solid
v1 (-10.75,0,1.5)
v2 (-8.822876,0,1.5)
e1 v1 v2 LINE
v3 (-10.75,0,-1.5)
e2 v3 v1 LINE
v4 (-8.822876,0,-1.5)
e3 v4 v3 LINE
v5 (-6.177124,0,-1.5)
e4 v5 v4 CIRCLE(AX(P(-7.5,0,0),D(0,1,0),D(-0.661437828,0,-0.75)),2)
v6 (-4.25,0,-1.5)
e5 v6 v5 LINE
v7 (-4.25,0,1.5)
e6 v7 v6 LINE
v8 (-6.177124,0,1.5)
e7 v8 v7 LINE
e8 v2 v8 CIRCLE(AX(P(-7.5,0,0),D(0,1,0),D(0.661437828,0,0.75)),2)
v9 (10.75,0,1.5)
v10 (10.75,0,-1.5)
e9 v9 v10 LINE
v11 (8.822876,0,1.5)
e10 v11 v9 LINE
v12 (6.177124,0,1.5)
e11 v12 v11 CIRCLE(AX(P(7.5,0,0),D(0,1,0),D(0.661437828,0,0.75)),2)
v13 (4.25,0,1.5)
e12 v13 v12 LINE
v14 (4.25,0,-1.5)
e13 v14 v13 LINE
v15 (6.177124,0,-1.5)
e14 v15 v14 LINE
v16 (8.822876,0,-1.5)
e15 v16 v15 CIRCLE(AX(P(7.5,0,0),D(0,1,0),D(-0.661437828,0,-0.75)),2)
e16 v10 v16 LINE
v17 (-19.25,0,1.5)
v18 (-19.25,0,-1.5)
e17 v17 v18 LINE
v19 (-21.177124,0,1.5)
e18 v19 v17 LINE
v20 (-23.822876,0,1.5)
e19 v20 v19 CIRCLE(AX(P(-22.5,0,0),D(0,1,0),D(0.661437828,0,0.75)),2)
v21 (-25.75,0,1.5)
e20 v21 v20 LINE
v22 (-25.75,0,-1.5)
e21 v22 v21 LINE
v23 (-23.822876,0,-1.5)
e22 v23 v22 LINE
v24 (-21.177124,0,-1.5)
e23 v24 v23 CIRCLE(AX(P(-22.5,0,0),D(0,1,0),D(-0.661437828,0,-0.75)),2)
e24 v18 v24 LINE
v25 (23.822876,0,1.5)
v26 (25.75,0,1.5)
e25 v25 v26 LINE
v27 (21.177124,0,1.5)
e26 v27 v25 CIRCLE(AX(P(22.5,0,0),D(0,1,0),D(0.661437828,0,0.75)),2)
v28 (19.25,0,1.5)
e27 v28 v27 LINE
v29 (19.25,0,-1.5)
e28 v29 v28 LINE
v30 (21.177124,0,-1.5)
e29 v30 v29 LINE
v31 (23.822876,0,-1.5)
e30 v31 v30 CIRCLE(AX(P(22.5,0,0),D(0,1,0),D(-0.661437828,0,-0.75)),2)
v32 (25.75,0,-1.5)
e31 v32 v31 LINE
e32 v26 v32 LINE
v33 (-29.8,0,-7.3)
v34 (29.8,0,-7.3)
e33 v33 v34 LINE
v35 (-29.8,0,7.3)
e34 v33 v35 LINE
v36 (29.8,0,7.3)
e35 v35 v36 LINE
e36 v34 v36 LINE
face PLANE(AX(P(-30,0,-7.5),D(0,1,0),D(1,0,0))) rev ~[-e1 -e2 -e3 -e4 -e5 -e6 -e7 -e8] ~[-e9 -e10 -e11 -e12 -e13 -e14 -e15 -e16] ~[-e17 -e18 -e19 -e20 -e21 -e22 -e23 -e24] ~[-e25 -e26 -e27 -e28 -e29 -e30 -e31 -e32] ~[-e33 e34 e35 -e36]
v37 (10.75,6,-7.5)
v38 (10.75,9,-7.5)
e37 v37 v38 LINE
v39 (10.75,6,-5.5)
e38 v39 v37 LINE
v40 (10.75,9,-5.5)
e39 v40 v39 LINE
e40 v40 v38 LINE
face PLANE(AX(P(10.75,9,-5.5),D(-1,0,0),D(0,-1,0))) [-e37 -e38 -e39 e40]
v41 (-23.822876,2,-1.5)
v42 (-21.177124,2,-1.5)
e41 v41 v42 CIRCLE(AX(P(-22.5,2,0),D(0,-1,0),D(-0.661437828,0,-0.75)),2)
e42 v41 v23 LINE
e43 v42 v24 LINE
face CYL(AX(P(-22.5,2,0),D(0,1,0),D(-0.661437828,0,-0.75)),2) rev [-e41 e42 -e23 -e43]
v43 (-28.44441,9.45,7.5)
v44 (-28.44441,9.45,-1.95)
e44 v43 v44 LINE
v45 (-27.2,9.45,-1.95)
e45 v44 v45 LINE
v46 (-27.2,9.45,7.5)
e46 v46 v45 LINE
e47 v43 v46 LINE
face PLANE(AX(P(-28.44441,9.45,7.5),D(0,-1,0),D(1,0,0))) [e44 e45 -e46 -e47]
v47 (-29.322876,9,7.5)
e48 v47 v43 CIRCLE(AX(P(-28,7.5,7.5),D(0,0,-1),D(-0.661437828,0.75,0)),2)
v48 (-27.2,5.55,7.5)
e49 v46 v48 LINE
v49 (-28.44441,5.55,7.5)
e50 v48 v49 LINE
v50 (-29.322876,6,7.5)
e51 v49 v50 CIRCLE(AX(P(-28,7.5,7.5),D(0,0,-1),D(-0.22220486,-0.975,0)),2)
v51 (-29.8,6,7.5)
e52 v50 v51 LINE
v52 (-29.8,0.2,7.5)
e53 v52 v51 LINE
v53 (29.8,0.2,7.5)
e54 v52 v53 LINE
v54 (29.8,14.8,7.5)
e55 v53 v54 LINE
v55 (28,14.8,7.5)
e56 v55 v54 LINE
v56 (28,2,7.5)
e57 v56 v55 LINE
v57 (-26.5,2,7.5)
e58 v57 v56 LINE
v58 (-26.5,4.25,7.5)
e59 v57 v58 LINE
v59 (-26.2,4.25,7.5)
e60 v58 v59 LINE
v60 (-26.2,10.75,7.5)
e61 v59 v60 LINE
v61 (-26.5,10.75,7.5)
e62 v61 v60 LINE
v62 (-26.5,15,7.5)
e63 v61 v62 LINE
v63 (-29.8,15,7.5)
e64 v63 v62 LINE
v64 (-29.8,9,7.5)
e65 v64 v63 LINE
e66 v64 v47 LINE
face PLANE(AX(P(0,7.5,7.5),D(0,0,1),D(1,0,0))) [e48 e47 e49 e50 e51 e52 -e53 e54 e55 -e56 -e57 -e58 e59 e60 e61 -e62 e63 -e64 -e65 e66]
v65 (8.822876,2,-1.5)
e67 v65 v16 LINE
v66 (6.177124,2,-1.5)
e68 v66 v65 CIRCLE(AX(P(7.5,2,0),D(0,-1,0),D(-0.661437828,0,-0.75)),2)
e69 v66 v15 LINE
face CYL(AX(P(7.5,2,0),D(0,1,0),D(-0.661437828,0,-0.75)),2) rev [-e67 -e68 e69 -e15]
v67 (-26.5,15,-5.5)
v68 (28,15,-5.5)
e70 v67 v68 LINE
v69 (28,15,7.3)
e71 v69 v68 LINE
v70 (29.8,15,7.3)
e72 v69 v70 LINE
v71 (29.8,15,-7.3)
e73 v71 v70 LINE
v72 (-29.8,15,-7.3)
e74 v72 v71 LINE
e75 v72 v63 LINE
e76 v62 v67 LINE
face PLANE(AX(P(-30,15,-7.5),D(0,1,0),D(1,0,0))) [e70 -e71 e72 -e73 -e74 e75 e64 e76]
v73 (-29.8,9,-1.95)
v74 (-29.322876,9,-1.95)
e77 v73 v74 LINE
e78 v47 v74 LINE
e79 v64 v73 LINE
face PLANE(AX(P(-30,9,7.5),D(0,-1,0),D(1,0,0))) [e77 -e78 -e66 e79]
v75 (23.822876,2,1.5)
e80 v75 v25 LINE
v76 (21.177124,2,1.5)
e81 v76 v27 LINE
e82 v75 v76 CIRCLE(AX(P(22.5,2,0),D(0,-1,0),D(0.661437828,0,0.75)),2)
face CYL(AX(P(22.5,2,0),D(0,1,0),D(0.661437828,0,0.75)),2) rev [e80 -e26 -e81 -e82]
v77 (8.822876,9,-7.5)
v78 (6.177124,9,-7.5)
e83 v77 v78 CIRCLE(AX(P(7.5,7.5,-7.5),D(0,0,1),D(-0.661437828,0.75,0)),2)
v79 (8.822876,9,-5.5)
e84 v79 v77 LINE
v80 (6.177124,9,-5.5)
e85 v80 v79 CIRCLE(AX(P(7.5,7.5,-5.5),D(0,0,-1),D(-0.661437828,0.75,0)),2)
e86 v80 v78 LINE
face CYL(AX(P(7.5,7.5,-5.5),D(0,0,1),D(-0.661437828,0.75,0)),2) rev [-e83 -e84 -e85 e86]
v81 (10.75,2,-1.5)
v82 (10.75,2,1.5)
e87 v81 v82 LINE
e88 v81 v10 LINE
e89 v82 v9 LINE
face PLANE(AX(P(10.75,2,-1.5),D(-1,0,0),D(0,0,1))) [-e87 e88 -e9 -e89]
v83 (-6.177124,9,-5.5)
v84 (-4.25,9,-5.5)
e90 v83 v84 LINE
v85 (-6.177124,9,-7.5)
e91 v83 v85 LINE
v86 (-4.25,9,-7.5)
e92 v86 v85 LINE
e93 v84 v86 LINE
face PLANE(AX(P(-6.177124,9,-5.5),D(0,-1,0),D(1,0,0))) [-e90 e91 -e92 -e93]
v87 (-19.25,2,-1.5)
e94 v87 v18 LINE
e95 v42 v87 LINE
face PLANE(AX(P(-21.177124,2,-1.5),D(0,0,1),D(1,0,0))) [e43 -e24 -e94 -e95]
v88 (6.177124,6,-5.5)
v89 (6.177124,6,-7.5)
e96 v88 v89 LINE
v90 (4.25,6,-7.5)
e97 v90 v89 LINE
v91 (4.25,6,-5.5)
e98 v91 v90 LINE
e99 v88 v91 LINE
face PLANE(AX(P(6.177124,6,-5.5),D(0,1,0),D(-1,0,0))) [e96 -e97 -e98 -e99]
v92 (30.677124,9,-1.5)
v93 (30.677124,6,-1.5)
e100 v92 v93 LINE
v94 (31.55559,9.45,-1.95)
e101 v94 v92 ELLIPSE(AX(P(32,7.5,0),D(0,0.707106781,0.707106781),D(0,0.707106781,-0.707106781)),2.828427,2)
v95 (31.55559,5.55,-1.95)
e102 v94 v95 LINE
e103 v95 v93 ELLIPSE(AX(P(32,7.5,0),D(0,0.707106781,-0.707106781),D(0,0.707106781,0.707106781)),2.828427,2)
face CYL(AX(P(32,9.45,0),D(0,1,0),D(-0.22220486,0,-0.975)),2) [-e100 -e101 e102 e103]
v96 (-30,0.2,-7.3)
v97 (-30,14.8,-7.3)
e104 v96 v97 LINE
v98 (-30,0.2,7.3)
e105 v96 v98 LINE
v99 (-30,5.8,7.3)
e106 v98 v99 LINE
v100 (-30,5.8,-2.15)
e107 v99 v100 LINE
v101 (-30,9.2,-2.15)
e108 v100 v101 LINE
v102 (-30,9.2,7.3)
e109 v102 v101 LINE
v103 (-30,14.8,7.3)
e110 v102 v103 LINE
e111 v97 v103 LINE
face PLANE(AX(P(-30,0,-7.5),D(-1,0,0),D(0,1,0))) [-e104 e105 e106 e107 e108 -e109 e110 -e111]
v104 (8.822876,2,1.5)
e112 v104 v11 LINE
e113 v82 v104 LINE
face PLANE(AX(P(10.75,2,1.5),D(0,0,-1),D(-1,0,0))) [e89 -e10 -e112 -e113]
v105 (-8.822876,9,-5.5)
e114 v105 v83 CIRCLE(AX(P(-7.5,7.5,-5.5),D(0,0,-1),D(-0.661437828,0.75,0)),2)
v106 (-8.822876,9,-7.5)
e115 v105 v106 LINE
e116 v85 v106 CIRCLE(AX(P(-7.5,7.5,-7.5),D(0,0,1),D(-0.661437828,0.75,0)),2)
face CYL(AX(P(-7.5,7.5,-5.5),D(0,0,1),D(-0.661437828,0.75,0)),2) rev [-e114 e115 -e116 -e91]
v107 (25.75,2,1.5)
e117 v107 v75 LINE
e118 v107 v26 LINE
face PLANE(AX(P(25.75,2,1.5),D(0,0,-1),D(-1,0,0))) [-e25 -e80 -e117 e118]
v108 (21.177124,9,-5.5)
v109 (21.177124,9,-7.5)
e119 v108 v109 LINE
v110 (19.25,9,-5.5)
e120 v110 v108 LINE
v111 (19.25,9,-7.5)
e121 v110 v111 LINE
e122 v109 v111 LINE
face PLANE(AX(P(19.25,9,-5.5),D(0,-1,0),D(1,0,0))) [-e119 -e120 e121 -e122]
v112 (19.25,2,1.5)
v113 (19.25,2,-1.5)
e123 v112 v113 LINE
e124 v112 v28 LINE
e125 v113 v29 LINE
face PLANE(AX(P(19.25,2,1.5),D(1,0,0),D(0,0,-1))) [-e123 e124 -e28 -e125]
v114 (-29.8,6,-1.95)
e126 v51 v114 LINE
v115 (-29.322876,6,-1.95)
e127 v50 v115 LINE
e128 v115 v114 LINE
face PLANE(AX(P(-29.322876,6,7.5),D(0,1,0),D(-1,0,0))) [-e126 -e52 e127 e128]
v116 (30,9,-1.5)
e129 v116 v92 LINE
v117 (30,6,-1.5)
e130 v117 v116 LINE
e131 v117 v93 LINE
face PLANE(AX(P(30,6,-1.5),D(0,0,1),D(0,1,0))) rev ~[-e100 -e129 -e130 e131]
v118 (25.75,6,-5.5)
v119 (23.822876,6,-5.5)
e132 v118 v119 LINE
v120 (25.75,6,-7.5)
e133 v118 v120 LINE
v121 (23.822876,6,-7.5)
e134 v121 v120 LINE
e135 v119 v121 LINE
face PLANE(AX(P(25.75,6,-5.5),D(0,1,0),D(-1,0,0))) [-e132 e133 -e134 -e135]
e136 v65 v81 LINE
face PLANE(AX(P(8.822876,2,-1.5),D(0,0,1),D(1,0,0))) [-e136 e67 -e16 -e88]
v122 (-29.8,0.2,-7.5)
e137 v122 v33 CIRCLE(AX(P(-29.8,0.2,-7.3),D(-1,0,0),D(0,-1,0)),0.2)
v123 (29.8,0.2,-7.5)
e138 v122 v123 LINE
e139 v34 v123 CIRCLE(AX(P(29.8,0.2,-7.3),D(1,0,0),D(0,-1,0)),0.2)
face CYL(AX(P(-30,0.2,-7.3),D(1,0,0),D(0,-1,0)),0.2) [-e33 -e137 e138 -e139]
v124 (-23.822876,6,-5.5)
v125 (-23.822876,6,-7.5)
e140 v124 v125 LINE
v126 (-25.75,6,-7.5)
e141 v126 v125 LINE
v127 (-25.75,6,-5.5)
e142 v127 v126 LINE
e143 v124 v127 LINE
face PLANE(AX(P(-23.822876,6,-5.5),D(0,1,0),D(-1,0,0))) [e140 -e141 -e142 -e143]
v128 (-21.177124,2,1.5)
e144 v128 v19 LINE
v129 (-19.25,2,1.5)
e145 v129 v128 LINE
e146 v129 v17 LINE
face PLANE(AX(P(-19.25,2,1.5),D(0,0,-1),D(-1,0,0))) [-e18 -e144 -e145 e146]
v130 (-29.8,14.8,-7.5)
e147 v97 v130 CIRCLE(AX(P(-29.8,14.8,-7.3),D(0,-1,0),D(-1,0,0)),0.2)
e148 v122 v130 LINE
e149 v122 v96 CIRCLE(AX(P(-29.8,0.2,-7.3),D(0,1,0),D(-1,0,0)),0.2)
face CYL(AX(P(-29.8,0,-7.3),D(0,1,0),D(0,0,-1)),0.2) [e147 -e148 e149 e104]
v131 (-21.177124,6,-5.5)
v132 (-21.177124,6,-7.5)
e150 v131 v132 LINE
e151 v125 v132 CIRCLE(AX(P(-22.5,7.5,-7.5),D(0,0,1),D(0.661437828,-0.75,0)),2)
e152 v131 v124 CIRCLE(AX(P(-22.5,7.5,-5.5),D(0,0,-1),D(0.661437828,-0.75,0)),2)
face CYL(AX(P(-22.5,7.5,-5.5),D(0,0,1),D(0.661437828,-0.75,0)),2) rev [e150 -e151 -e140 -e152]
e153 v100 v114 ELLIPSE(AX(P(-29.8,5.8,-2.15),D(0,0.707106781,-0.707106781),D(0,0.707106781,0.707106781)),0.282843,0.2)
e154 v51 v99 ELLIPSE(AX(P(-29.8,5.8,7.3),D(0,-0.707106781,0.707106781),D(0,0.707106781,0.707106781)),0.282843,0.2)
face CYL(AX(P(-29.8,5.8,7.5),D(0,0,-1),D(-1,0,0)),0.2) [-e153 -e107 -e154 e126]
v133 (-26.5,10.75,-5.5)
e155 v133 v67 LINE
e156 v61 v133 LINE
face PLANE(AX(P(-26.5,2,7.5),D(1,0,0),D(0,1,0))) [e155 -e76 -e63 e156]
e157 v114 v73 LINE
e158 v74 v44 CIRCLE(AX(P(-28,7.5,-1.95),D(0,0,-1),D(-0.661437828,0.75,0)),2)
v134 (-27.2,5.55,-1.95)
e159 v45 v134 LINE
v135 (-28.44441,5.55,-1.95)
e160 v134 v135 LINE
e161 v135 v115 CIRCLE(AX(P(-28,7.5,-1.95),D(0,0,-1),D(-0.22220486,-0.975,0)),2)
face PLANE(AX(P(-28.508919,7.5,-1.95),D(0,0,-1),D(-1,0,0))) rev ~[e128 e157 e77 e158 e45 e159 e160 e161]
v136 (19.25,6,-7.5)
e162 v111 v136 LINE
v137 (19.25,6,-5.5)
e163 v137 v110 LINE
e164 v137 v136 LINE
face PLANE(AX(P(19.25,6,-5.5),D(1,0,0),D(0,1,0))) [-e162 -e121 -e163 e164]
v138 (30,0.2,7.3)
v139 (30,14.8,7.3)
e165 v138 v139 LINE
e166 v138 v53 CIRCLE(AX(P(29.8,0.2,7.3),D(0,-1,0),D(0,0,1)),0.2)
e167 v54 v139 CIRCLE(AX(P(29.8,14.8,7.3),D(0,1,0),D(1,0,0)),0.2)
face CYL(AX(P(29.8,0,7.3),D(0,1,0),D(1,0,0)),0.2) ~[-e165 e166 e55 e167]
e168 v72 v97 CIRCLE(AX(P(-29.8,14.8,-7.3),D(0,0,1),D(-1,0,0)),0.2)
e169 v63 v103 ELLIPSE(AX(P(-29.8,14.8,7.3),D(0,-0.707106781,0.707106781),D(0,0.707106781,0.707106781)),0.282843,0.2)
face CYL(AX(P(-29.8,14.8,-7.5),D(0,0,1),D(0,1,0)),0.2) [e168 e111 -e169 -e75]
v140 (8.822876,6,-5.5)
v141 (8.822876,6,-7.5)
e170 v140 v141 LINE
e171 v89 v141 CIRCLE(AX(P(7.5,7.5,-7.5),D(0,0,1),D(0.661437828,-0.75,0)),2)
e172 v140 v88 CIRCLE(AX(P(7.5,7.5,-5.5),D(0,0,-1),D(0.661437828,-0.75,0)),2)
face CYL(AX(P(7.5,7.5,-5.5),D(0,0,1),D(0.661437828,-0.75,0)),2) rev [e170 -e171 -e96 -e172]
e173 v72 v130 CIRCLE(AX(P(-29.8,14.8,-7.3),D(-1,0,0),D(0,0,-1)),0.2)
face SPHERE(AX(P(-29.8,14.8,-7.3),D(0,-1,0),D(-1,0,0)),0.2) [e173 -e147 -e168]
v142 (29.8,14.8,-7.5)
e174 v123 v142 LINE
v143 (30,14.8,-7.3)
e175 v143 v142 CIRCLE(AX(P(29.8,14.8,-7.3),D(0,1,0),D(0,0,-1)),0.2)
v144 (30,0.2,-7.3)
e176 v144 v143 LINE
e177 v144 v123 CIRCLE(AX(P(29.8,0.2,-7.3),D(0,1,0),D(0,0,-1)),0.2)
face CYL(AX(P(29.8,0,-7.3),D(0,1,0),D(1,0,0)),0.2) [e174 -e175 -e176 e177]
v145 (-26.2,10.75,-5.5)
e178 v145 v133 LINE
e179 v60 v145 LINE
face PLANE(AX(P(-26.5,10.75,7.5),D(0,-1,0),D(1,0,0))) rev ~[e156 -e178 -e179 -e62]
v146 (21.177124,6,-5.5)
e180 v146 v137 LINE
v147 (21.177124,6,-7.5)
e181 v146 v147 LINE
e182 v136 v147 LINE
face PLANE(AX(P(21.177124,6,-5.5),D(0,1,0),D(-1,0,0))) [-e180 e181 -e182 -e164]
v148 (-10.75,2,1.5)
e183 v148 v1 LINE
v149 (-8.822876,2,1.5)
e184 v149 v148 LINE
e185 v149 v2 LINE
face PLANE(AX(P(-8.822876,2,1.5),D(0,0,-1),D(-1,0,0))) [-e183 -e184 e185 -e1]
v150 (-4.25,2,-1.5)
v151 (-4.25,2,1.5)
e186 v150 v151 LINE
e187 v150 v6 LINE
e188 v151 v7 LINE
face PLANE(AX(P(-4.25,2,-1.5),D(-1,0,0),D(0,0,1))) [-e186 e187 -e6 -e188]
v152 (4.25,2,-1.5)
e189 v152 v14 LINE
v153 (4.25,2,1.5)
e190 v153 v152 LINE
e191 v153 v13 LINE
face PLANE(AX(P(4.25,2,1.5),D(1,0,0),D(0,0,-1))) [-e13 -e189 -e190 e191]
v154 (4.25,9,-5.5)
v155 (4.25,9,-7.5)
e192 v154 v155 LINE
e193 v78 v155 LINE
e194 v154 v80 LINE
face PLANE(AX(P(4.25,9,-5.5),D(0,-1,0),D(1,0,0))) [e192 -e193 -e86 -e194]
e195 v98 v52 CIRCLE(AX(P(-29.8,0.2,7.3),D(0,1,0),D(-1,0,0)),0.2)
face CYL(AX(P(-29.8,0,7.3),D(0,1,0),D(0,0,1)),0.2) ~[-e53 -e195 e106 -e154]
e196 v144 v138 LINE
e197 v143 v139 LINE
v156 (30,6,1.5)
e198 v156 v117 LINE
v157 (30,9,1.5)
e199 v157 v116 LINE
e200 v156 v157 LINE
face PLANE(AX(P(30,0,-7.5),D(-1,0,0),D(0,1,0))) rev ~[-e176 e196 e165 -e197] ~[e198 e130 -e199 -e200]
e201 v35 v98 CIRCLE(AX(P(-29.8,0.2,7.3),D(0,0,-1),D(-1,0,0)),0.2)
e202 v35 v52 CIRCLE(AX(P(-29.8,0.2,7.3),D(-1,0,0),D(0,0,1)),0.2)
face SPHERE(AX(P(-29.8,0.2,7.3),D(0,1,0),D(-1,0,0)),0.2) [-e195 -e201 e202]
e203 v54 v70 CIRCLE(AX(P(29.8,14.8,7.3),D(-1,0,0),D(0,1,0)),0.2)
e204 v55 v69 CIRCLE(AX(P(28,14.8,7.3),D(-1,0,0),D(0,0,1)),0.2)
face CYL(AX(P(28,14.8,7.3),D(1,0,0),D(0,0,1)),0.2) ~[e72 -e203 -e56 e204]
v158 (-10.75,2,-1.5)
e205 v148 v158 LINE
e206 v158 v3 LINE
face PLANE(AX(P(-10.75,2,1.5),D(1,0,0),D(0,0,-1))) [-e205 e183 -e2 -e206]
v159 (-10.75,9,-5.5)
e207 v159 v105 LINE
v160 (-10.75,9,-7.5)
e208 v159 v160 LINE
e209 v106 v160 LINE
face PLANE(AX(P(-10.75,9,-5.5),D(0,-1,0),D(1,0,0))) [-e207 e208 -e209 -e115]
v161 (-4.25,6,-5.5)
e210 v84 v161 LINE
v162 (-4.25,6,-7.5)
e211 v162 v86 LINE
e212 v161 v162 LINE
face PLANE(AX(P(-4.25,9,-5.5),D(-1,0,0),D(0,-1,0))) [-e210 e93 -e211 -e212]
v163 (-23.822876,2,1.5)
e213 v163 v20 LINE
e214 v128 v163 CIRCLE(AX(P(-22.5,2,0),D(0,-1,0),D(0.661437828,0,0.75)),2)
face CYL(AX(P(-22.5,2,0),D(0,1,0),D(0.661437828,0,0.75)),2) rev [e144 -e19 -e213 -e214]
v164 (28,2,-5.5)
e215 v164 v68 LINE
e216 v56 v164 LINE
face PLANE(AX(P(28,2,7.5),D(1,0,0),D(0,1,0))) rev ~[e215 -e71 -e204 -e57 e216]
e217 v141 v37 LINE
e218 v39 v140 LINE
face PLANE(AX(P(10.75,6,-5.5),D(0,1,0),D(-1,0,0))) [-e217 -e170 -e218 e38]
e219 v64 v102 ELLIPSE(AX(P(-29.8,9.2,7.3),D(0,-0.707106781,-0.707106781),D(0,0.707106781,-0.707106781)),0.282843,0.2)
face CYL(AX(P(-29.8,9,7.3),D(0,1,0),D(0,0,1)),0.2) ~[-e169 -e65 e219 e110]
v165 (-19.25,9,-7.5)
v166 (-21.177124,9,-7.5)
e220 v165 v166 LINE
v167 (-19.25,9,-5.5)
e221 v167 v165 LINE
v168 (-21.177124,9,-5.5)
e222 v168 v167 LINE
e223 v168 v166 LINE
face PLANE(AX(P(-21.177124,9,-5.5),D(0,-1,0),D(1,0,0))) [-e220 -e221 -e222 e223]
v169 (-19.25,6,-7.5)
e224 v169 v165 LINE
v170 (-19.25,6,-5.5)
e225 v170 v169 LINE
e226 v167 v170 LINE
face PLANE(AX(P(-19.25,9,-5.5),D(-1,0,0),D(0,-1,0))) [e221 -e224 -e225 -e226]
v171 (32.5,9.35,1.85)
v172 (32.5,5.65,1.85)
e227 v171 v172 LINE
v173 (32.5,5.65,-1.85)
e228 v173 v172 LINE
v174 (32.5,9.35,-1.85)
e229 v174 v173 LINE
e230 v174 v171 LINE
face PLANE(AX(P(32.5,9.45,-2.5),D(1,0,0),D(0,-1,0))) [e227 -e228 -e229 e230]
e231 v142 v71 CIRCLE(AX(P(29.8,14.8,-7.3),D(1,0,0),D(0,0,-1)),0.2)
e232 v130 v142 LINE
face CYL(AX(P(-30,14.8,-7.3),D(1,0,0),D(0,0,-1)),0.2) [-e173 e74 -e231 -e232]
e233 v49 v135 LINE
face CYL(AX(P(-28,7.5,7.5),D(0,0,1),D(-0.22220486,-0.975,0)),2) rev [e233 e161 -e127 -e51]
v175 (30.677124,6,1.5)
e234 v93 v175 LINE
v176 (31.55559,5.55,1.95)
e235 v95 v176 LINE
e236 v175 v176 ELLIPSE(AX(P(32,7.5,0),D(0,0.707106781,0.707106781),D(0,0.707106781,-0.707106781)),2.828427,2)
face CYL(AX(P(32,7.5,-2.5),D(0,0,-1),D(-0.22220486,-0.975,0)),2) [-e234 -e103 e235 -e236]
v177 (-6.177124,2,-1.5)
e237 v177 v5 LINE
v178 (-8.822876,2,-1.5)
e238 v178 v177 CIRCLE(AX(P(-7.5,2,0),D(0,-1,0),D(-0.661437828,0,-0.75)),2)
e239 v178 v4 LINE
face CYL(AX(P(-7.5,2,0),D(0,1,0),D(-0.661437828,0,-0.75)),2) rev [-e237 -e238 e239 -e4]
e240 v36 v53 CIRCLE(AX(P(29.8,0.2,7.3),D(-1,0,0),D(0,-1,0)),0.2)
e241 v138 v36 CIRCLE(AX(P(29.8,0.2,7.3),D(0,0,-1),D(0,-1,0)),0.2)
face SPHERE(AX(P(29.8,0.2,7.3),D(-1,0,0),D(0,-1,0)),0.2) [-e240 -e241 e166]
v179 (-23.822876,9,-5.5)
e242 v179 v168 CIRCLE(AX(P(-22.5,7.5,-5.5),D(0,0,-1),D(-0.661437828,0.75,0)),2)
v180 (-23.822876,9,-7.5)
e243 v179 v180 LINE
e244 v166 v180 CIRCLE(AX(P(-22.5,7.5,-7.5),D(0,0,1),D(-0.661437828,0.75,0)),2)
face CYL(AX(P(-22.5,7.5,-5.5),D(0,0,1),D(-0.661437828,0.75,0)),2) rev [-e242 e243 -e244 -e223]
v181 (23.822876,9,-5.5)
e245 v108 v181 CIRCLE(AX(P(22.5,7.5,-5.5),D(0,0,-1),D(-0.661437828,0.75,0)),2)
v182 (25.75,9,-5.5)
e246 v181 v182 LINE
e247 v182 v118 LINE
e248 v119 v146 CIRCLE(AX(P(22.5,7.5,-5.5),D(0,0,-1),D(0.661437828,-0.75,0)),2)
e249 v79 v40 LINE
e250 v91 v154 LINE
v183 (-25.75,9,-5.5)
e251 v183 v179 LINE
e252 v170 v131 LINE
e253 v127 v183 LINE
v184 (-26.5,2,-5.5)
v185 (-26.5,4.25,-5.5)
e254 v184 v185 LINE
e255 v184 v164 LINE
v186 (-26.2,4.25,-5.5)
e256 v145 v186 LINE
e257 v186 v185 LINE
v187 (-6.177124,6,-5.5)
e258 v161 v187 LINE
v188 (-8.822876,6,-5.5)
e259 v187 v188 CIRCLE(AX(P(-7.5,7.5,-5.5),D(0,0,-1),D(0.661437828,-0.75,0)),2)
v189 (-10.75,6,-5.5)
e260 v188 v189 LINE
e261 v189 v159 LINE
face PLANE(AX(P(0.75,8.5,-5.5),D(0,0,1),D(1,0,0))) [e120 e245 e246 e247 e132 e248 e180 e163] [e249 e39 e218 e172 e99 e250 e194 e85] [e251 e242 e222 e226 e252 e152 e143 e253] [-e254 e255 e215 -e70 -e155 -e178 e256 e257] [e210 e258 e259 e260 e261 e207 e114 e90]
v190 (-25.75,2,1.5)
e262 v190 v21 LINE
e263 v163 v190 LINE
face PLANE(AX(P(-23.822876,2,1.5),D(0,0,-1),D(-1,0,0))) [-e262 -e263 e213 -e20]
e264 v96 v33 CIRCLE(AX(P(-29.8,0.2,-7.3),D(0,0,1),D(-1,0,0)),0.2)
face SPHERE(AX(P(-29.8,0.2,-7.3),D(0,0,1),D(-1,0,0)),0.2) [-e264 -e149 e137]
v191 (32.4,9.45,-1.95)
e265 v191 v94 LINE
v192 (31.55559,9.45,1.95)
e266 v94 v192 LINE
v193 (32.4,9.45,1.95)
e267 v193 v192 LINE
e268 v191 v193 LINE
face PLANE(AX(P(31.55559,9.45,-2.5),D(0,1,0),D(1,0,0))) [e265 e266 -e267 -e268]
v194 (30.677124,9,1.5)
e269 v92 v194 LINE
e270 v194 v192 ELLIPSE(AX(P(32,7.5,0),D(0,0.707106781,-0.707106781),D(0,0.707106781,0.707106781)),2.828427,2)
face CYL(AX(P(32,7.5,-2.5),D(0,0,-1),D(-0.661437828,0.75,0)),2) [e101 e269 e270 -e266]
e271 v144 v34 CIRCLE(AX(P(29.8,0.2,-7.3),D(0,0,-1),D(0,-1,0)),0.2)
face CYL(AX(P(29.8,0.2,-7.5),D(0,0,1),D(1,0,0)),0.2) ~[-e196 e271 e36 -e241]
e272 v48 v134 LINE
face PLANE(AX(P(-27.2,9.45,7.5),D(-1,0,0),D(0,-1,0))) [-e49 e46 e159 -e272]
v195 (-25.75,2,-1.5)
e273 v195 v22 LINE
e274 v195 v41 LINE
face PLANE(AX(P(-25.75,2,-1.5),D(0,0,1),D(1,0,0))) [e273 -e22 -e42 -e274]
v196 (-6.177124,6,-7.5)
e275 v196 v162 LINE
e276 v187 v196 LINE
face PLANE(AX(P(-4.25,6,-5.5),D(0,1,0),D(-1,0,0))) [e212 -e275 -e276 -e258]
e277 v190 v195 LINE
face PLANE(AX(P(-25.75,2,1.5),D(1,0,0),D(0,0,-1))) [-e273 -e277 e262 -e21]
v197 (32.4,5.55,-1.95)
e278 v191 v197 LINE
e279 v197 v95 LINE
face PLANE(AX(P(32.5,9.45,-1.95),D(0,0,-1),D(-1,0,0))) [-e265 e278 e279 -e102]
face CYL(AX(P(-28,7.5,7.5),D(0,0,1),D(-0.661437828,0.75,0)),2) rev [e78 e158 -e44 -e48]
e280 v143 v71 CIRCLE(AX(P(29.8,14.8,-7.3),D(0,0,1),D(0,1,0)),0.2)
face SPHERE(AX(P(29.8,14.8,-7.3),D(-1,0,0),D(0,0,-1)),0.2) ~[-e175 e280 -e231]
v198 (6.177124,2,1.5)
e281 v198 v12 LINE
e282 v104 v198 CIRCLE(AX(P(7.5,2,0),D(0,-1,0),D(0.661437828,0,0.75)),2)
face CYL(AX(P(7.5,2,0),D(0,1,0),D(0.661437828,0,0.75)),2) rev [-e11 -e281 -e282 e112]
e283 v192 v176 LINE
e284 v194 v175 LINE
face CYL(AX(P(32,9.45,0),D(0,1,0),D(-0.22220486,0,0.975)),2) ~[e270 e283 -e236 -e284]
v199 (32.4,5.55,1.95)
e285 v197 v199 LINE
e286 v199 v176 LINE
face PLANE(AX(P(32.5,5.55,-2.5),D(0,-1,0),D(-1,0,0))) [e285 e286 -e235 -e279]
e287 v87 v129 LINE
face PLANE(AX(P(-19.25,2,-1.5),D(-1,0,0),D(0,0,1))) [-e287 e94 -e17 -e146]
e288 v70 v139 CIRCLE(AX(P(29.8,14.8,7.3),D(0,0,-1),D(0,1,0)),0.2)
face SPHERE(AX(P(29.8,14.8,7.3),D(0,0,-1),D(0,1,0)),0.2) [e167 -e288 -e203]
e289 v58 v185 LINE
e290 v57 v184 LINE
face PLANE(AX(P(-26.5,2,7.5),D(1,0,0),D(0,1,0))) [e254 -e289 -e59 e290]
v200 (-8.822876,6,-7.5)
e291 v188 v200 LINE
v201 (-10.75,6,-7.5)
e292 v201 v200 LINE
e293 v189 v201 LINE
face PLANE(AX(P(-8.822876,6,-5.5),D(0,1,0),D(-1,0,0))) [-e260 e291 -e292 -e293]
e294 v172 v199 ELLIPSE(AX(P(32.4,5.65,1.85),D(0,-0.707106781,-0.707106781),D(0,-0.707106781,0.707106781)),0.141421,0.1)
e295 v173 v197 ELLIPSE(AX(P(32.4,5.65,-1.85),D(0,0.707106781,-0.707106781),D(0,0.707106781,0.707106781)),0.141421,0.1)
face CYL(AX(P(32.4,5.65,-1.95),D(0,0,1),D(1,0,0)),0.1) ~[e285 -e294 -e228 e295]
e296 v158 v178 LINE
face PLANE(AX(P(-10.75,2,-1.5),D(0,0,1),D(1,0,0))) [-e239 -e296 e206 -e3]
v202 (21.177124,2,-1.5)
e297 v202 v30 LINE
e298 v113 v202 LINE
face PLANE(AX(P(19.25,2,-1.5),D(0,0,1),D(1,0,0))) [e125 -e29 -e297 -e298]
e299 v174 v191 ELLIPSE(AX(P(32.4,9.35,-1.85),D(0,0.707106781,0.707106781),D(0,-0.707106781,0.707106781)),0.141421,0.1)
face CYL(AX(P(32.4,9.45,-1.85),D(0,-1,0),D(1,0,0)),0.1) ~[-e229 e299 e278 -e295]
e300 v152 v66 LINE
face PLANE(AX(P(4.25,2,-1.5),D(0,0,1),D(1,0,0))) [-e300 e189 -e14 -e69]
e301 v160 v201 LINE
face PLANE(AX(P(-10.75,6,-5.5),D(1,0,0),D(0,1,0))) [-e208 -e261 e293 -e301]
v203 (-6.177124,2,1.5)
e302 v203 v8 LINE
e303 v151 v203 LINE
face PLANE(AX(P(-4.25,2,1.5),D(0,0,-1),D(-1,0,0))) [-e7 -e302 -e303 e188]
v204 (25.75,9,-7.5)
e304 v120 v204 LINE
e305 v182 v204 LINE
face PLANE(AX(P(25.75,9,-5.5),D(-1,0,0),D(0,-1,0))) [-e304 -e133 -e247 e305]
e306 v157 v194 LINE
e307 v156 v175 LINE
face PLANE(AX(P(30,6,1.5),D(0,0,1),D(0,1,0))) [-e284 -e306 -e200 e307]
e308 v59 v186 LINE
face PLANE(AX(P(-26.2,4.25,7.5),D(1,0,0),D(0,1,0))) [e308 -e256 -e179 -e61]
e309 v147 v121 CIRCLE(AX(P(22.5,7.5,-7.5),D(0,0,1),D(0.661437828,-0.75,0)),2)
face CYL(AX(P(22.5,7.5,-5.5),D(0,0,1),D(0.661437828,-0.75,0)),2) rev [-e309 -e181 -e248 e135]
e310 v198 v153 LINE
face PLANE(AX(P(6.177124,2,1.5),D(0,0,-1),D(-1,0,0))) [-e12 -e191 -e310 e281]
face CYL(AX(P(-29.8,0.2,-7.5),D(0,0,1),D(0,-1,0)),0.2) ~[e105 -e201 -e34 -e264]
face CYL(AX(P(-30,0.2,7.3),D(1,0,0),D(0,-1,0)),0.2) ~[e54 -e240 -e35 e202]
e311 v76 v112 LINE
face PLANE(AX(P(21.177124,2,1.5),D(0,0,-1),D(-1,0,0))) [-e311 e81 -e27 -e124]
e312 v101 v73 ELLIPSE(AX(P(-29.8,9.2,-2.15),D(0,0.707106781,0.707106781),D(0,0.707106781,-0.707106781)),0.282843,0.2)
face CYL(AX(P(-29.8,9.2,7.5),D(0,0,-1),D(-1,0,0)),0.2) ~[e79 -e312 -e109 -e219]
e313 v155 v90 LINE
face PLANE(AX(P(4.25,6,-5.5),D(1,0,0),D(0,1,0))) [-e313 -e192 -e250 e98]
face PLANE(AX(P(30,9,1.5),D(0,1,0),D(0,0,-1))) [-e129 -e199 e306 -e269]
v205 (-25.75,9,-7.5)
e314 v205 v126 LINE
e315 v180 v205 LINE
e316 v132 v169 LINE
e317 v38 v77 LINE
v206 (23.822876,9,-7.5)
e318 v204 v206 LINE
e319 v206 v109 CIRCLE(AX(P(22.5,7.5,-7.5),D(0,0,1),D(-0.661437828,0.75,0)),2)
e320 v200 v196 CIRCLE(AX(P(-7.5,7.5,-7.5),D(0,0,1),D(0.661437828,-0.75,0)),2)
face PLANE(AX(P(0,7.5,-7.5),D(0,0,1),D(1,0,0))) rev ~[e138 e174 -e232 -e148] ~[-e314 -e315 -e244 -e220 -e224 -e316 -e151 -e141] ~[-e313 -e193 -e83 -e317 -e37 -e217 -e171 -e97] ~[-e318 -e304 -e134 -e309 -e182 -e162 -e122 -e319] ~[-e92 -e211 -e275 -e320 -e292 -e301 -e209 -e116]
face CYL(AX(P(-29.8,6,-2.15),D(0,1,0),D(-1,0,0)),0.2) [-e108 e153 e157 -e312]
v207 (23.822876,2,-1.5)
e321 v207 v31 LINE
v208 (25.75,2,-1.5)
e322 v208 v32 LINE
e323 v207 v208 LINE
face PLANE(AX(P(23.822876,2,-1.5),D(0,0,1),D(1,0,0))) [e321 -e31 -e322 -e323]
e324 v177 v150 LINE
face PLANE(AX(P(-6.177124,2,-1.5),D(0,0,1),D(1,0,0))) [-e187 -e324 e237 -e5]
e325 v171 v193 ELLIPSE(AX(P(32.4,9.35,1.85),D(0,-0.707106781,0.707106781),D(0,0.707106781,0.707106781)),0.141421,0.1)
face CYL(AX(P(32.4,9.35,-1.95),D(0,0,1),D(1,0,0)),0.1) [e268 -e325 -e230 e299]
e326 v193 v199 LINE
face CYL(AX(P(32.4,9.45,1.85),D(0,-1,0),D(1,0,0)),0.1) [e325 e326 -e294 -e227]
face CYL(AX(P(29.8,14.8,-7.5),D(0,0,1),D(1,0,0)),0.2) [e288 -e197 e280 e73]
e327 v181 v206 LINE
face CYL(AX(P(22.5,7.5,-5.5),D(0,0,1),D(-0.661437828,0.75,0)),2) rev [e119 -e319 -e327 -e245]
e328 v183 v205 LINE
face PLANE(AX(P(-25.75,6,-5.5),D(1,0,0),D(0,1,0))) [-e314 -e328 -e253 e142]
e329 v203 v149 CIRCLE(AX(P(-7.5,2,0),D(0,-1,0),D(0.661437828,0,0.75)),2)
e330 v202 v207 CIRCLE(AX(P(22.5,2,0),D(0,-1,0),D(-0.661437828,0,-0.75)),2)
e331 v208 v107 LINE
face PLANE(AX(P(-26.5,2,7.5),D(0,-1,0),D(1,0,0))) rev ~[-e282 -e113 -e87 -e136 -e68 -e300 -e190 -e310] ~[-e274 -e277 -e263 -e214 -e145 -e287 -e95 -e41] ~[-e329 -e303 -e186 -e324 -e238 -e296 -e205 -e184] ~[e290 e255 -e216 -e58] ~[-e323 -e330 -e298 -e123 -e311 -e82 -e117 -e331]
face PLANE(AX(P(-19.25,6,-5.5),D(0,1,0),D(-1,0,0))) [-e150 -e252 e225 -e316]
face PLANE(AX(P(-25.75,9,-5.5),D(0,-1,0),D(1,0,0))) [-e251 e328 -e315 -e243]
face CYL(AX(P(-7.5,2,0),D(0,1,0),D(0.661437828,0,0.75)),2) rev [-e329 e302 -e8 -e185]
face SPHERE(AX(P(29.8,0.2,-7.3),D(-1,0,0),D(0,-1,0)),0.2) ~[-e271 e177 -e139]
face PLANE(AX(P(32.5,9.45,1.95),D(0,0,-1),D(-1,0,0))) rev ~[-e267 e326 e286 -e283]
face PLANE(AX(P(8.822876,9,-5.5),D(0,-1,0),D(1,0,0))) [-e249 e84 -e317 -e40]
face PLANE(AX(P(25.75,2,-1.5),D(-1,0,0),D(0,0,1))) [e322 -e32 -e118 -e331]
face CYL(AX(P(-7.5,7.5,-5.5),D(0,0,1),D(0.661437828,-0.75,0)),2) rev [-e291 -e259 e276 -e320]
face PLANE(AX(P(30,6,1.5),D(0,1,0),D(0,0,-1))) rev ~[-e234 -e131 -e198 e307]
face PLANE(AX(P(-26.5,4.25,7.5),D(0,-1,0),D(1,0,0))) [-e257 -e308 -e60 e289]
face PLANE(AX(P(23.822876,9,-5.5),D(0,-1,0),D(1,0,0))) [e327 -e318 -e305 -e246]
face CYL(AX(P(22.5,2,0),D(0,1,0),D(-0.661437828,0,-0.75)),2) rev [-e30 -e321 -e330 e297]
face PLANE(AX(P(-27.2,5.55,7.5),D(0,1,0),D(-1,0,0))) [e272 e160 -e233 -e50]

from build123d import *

# Parameters (mm, degrees)
EXTRUDE_1_DEPTH      = 7.5
EXTRUDE_1_DEPTH_BACK = 7.5
SKETCH_1_W           = 60
SKETCH_1_H           = 15
SKETCH_2_W           = 3
SKETCH_2_H           = 3
EXTRUDE_2_DEPTH      = 1
EXTRUDE_3_DEPTH      = 1
EXTRUDE_3_DEPTH_BACK = 4
CUT_EXTRUDE_1_REACH  = 36.667
SKETCH_5_W           = 54.5
SKETCH_5_H           = 13
CUT_EXTRUDE_2_DEPTH  = 13
CUT_EXTRUDE_3_DEPTH  = 9.45
EXTRUDE_4_REACH      = 40.81
SKETCH_7_W           = 0.3
SKETCH_7_H           = 6.5
CUT_EXTRUDE_4_REACH  = 40.082
CUT_EXTRUDE_5_REACH  = 37.798
FILLET_1_R           = 0.1
FILLET_2_R           = 0.2


with BuildPart() as part:
    # Sketch 1 → Extrude 1 (new, two sides: drawn at the far end of the back side and taken through both)
    with BuildSketch(Plane.XY.offset(-EXTRUDE_1_DEPTH_BACK)):
        with Locations((0, 7.5)):
            Rectangle(SKETCH_1_W, SKETCH_1_H)
    extrude(amount=EXTRUDE_1_DEPTH + EXTRUDE_1_DEPTH_BACK)

    # Sketch 2 → Extrude 2 (add)
    with BuildSketch(Plane(origin=(30, 0, 0), x_dir=(0, 0, -1), z_dir=(1, 0, 0))):
        with Locations((0, 7.5)):
            Rectangle(SKETCH_2_W, SKETCH_2_H)
    extrude(amount=EXTRUDE_2_DEPTH)

    # Sketch 3 → Extrude 3 (add, two sides: drawn at the far end of the back side and taken through both)
    with BuildSketch(Plane.XY.offset(1.5).offset(-EXTRUDE_3_DEPTH_BACK)):
        with BuildLine():
            Line((32.5, 9.45), (32.5, 5.55))
            Line((32.5, 5.55), (31.555590279, 5.55))
            ThreePointArc((31.555590279, 5.55), (31.088161527, 5.719957697), (30.677124344, 6))
            Line((30.677124344, 6), (30.677124344, 9))
            ThreePointArc((30.677124344, 9), (31.088161527, 9.280042303), (31.555590279, 9.45))
            Line((31.555590279, 9.45), (32.5, 9.45))
        make_face()
    extrude(amount=EXTRUDE_3_DEPTH + EXTRUDE_3_DEPTH_BACK)

    # Sketch 4 → Cut-Extrude 1 (cut, up to next)
    with BuildSketch(Plane(origin=(0, 9.45, 0), x_dir=(-1, 0, 0), z_dir=(0, 1, 0)), mode=Mode.PRIVATE) as cut_extrude_1_sk1:
        with BuildLine():
            Line((-32.5, -1.95), (-31.555590279, -1.95))
            ThreePointArc((-31.555590279, -1.95), (-31.088161527, -1.780042303), (-30.677124344, -1.5))
            Line((-30.677124344, -1.5), (-30.677124344, -2.5))
            Line((-30.677124344, -2.5), (-32.5, -2.5))
            Line((-32.5, -2.5), (-32.5, -1.95))
        make_face()
    cut_extrude_1_tool1 = extrude(cut_extrude_1_sk1.sketch, amount=-CUT_EXTRUDE_1_REACH, mode=Mode.PRIVATE) & part.part
    # Sketch 4 → Cut-Extrude 1 (cut, up to next)
    with BuildSketch(Plane(origin=(0, 9.45, 0), x_dir=(-1, 0, 0), z_dir=(0, 1, 0)), mode=Mode.PRIVATE) as cut_extrude_1_sk2:
        with BuildLine():
            Line((-30.677124344, 2.5), (-32.5, 2.5))
            Line((-32.5, 2.5), (-32.5, 1.95))
            Line((-32.5, 1.95), (-31.555590279, 1.95))
            ThreePointArc((-31.555590279, 1.95), (-31.088161527, 1.780042303), (-30.677124344, 1.5))
            Line((-30.677124344, 1.5), (-30.677124344, 2.5))
        make_face()
    cut_extrude_1_tool2 = extrude(cut_extrude_1_sk2.sketch, amount=-CUT_EXTRUDE_1_REACH, mode=Mode.PRIVATE) & part.part
    add(cut_extrude_1_tool1.solids().sort_by_distance((31.500125, 9.45, -2.169375))[0], mode=Mode.SUBTRACT)
    add(cut_extrude_1_tool2.solids().sort_by_distance((31.500125, 9.45, 2.169375))[0], mode=Mode.SUBTRACT)

    # Sketch 5 → Cut-Extrude 2 (cut)
    with BuildSketch(Plane.XY.offset(7.5)):
        with Locations((0.75, 8.5)):
            Rectangle(SKETCH_5_W, SKETCH_5_H)
    extrude(amount=-CUT_EXTRUDE_2_DEPTH, mode=Mode.SUBTRACT)

    # Sketch 6 → Cut-Extrude 3 (cut)
    with BuildSketch(Plane.XY.offset(7.5)):
        with BuildLine():
            Line((-27.2, 9.45), (-27.2, 5.55))
            Line((-27.2, 5.55), (-28.444409721, 5.55))
            ThreePointArc((-28.444409721, 5.55), (-28.911838473, 5.719957697), (-29.322875656, 6))
            Line((-29.322875656, 6), (-30, 6))
            Line((-30, 6), (-30, 9))
            Line((-30, 9), (-29.322875656, 9))
            ThreePointArc((-29.322875656, 9), (-28.911838473, 9.280042303), (-28.444409721, 9.45))
            Line((-28.444409721, 9.45), (-27.2, 9.45))
        make_face()
    extrude(amount=-CUT_EXTRUDE_3_DEPTH, mode=Mode.SUBTRACT)

    # Sketch 7 → Extrude 4 (add, up to next)
    with BuildSketch(Plane.XY.offset(7.5), mode=Mode.PRIVATE) as extrude_4_sk1:
        with Locations((-26.35, 7.5)):
            Rectangle(SKETCH_7_W, SKETCH_7_H)
    extrude_4_tool1 = extrude(extrude_4_sk1.sketch, amount=-EXTRUDE_4_REACH, mode=Mode.PRIVATE) - part.part
    add(extrude_4_tool1.solids().sort_by_distance((-26.35, 7.5, 7.5))[0])

    # Sketch 8 → Cut-Extrude 4 (cut, up to next)
    with BuildSketch(Plane.XY.offset(-5.5), mode=Mode.PRIVATE) as cut_extrude_4_sk1:
        with BuildLine():
            Line((-21.177124344, 9), (-19.25, 9))
            Line((-19.25, 9), (-19.25, 6))
            Line((-19.25, 6), (-21.177124344, 6))
            ThreePointArc((-21.177124344, 6), (-22.5, 5.5), (-23.822875656, 6))
            Line((-23.822875656, 6), (-25.75, 6))
            Line((-25.75, 6), (-25.75, 9))
            Line((-25.75, 9), (-23.822875656, 9))
            ThreePointArc((-23.822875656, 9), (-22.5, 9.5), (-21.177124344, 9))
        make_face()
    cut_extrude_4_tool1 = extrude(cut_extrude_4_sk1.sketch, amount=-CUT_EXTRUDE_4_REACH, mode=Mode.PRIVATE) & part.part
    # Sketch 8 → Cut-Extrude 4 (cut, up to next)
    with BuildSketch(Plane.XY.offset(-5.5), mode=Mode.PRIVATE) as cut_extrude_4_sk2:
        with BuildLine():
            Line((-10.75, 9), (-8.822875656, 9))
            ThreePointArc((-8.822875656, 9), (-7.5, 9.5), (-6.177124344, 9))
            Line((-6.177124344, 9), (-4.25, 9))
            Line((-4.25, 9), (-4.25, 6))
            Line((-4.25, 6), (-6.177124344, 6))
            ThreePointArc((-6.177124344, 6), (-7.5, 5.5), (-8.822875656, 6))
            Line((-8.822875656, 6), (-10.75, 6))
            Line((-10.75, 6), (-10.75, 9))
        make_face()
    cut_extrude_4_tool2 = extrude(cut_extrude_4_sk2.sketch, amount=-CUT_EXTRUDE_4_REACH, mode=Mode.PRIVATE) & part.part
    # Sketch 8 → Cut-Extrude 4 (cut, up to next)
    with BuildSketch(Plane.XY.offset(-5.5), mode=Mode.PRIVATE) as cut_extrude_4_sk3:
        with BuildLine():
            Line((6.177124344, 6), (4.25, 6))
            Line((4.25, 6), (4.25, 9))
            Line((4.25, 9), (6.177124344, 9))
            ThreePointArc((6.177124344, 9), (7.5, 9.5), (8.822875656, 9))
            Line((8.822875656, 9), (10.75, 9))
            Line((10.75, 9), (10.75, 6))
            Line((10.75, 6), (8.822875656, 6))
            ThreePointArc((8.822875656, 6), (7.5, 5.5), (6.177124344, 6))
        make_face()
    cut_extrude_4_tool3 = extrude(cut_extrude_4_sk3.sketch, amount=-CUT_EXTRUDE_4_REACH, mode=Mode.PRIVATE) & part.part
    # Sketch 8 → Cut-Extrude 4 (cut, up to next)
    with BuildSketch(Plane.XY.offset(-5.5), mode=Mode.PRIVATE) as cut_extrude_4_sk4:
        with BuildLine():
            Line((21.177124344, 6), (19.25, 6))
            Line((19.25, 6), (19.25, 9))
            Line((19.25, 9), (21.177124344, 9))
            ThreePointArc((21.177124344, 9), (22.5, 9.5), (23.822875656, 9))
            Line((23.822875656, 9), (25.75, 9))
            Line((25.75, 9), (25.75, 6))
            Line((25.75, 6), (23.822875656, 6))
            ThreePointArc((23.822875656, 6), (22.5, 5.5), (21.177124344, 6))
        make_face()
    cut_extrude_4_tool4 = extrude(cut_extrude_4_sk4.sketch, amount=-CUT_EXTRUDE_4_REACH, mode=Mode.PRIVATE) & part.part
    add(cut_extrude_4_tool1.solids().sort_by_distance((-22.5, 7.5, -5.5))[0], mode=Mode.SUBTRACT)
    add(cut_extrude_4_tool2.solids().sort_by_distance((-7.5, 7.5, -5.5))[0], mode=Mode.SUBTRACT)
    add(cut_extrude_4_tool3.solids().sort_by_distance((7.5, 7.5, -5.5))[0], mode=Mode.SUBTRACT)
    add(cut_extrude_4_tool4.solids().sort_by_distance((22.5, 7.5, -5.5))[0], mode=Mode.SUBTRACT)

    # Sketch 9 → Cut-Extrude 5 (cut, up to next)
    with BuildSketch(Plane(origin=(0, 2, 0), x_dir=(-1, 0, 0), z_dir=(0, 1, 0)), mode=Mode.PRIVATE) as cut_extrude_5_sk1:
        with BuildLine():
            Line((21.177124344, -1.5), (19.25, -1.5))
            Line((19.25, -1.5), (19.25, 1.5))
            Line((19.25, 1.5), (21.177124344, 1.5))
            ThreePointArc((21.177124344, 1.5), (22.5, 2), (23.822875656, 1.5))
            Line((23.822875656, 1.5), (25.75, 1.5))
            Line((25.75, 1.5), (25.75, -1.5))
            Line((25.75, -1.5), (23.822875656, -1.5))
            ThreePointArc((23.822875656, -1.5), (22.5, -2), (21.177124344, -1.5))
        make_face()
    cut_extrude_5_tool1 = extrude(cut_extrude_5_sk1.sketch, amount=-CUT_EXTRUDE_5_REACH, mode=Mode.PRIVATE) & part.part
    # Sketch 9 → Cut-Extrude 5 (cut, up to next)
    with BuildSketch(Plane(origin=(0, 2, 0), x_dir=(-1, 0, 0), z_dir=(0, 1, 0)), mode=Mode.PRIVATE) as cut_extrude_5_sk2:
        with BuildLine():
            Line((10.75, -1.5), (8.822875656, -1.5))
            ThreePointArc((8.822875656, -1.5), (7.5, -2), (6.177124344, -1.5))
            Line((6.177124344, -1.5), (4.25, -1.5))
            Line((4.25, -1.5), (4.25, 1.5))
            Line((4.25, 1.5), (6.177124344, 1.5))
            ThreePointArc((6.177124344, 1.5), (7.5, 2), (8.822875656, 1.5))
            Line((8.822875656, 1.5), (10.75, 1.5))
            Line((10.75, 1.5), (10.75, -1.5))
        make_face()
    cut_extrude_5_tool2 = extrude(cut_extrude_5_sk2.sketch, amount=-CUT_EXTRUDE_5_REACH, mode=Mode.PRIVATE) & part.part
    # Sketch 9 → Cut-Extrude 5 (cut, up to next)
    with BuildSketch(Plane(origin=(0, 2, 0), x_dir=(-1, 0, 0), z_dir=(0, 1, 0)), mode=Mode.PRIVATE) as cut_extrude_5_sk3:
        with BuildLine():
            Line((-6.177124344, 1.5), (-4.25, 1.5))
            Line((-4.25, 1.5), (-4.25, -1.5))
            Line((-4.25, -1.5), (-6.177124344, -1.5))
            ThreePointArc((-6.177124344, -1.5), (-7.5, -2), (-8.822875656, -1.5))
            Line((-8.822875656, -1.5), (-10.75, -1.5))
            Line((-10.75, -1.5), (-10.75, 1.5))
            Line((-10.75, 1.5), (-8.822875656, 1.5))
            ThreePointArc((-8.822875656, 1.5), (-7.5, 2), (-6.177124344, 1.5))
        make_face()
    cut_extrude_5_tool3 = extrude(cut_extrude_5_sk3.sketch, amount=-CUT_EXTRUDE_5_REACH, mode=Mode.PRIVATE) & part.part
    # Sketch 9 → Cut-Extrude 5 (cut, up to next)
    with BuildSketch(Plane(origin=(0, 2, 0), x_dir=(-1, 0, 0), z_dir=(0, 1, 0)), mode=Mode.PRIVATE) as cut_extrude_5_sk4:
        with BuildLine():
            Line((-21.177124344, 1.5), (-19.25, 1.5))
            Line((-19.25, 1.5), (-19.25, -1.5))
            Line((-19.25, -1.5), (-21.177124344, -1.5))
            ThreePointArc((-21.177124344, -1.5), (-22.5, -2), (-23.822875656, -1.5))
            Line((-23.822875656, -1.5), (-25.75, -1.5))
            Line((-25.75, -1.5), (-25.75, 1.5))
            Line((-25.75, 1.5), (-23.822875656, 1.5))
            ThreePointArc((-23.822875656, 1.5), (-22.5, 2), (-21.177124344, 1.5))
        make_face()
    cut_extrude_5_tool4 = extrude(cut_extrude_5_sk4.sketch, amount=-CUT_EXTRUDE_5_REACH, mode=Mode.PRIVATE) & part.part
    add(cut_extrude_5_tool1.solids().sort_by_distance((-22.5, 2, 0))[0], mode=Mode.SUBTRACT)
    add(cut_extrude_5_tool2.solids().sort_by_distance((-7.5, 2, 0))[0], mode=Mode.SUBTRACT)
    add(cut_extrude_5_tool3.solids().sort_by_distance((7.5, 2, 0))[0], mode=Mode.SUBTRACT)
    add(cut_extrude_5_tool4.solids().sort_by_distance((22.5, 2, 0))[0], mode=Mode.SUBTRACT)

    # Fillet 1
    fillet_1_edges = [part.edges().sort_by_distance(p)[0] for p in [
        (32.5, 5.55, 0),
        (32.5, 9.45, 0),
        (32.5, 7.5, -1.95),
        (32.5, 7.5, 1.95),
    ]]
    fillet(fillet_1_edges, radius=FILLET_1_R)

    # Fillet 2
    fillet_2_edges = [part.edges().sort_by_distance(p)[0] for p in [
        (-30, 3, 7.5),
        (-30, 0, 0),
        (-30, 7.5, -7.5),
        (-30, 15, 0),
        (-30, 12, 7.5),
        (-30, 9, 2.775),
        (-30, 7.5, -1.95),
        (-30, 6, 2.775),
        (0, 0, -7.5),
        (0, 0, 7.5),
        (0, 15, -7.5),
        (30, 0, 0),
        (30, 7.5, -7.5),
        (30, 15, 0),
        (29, 15, 7.5),
        (30, 7.5, 7.5),
    ]]
    fillet(fillet_2_edges, radius=FILLET_2_R)


solid = part.part
